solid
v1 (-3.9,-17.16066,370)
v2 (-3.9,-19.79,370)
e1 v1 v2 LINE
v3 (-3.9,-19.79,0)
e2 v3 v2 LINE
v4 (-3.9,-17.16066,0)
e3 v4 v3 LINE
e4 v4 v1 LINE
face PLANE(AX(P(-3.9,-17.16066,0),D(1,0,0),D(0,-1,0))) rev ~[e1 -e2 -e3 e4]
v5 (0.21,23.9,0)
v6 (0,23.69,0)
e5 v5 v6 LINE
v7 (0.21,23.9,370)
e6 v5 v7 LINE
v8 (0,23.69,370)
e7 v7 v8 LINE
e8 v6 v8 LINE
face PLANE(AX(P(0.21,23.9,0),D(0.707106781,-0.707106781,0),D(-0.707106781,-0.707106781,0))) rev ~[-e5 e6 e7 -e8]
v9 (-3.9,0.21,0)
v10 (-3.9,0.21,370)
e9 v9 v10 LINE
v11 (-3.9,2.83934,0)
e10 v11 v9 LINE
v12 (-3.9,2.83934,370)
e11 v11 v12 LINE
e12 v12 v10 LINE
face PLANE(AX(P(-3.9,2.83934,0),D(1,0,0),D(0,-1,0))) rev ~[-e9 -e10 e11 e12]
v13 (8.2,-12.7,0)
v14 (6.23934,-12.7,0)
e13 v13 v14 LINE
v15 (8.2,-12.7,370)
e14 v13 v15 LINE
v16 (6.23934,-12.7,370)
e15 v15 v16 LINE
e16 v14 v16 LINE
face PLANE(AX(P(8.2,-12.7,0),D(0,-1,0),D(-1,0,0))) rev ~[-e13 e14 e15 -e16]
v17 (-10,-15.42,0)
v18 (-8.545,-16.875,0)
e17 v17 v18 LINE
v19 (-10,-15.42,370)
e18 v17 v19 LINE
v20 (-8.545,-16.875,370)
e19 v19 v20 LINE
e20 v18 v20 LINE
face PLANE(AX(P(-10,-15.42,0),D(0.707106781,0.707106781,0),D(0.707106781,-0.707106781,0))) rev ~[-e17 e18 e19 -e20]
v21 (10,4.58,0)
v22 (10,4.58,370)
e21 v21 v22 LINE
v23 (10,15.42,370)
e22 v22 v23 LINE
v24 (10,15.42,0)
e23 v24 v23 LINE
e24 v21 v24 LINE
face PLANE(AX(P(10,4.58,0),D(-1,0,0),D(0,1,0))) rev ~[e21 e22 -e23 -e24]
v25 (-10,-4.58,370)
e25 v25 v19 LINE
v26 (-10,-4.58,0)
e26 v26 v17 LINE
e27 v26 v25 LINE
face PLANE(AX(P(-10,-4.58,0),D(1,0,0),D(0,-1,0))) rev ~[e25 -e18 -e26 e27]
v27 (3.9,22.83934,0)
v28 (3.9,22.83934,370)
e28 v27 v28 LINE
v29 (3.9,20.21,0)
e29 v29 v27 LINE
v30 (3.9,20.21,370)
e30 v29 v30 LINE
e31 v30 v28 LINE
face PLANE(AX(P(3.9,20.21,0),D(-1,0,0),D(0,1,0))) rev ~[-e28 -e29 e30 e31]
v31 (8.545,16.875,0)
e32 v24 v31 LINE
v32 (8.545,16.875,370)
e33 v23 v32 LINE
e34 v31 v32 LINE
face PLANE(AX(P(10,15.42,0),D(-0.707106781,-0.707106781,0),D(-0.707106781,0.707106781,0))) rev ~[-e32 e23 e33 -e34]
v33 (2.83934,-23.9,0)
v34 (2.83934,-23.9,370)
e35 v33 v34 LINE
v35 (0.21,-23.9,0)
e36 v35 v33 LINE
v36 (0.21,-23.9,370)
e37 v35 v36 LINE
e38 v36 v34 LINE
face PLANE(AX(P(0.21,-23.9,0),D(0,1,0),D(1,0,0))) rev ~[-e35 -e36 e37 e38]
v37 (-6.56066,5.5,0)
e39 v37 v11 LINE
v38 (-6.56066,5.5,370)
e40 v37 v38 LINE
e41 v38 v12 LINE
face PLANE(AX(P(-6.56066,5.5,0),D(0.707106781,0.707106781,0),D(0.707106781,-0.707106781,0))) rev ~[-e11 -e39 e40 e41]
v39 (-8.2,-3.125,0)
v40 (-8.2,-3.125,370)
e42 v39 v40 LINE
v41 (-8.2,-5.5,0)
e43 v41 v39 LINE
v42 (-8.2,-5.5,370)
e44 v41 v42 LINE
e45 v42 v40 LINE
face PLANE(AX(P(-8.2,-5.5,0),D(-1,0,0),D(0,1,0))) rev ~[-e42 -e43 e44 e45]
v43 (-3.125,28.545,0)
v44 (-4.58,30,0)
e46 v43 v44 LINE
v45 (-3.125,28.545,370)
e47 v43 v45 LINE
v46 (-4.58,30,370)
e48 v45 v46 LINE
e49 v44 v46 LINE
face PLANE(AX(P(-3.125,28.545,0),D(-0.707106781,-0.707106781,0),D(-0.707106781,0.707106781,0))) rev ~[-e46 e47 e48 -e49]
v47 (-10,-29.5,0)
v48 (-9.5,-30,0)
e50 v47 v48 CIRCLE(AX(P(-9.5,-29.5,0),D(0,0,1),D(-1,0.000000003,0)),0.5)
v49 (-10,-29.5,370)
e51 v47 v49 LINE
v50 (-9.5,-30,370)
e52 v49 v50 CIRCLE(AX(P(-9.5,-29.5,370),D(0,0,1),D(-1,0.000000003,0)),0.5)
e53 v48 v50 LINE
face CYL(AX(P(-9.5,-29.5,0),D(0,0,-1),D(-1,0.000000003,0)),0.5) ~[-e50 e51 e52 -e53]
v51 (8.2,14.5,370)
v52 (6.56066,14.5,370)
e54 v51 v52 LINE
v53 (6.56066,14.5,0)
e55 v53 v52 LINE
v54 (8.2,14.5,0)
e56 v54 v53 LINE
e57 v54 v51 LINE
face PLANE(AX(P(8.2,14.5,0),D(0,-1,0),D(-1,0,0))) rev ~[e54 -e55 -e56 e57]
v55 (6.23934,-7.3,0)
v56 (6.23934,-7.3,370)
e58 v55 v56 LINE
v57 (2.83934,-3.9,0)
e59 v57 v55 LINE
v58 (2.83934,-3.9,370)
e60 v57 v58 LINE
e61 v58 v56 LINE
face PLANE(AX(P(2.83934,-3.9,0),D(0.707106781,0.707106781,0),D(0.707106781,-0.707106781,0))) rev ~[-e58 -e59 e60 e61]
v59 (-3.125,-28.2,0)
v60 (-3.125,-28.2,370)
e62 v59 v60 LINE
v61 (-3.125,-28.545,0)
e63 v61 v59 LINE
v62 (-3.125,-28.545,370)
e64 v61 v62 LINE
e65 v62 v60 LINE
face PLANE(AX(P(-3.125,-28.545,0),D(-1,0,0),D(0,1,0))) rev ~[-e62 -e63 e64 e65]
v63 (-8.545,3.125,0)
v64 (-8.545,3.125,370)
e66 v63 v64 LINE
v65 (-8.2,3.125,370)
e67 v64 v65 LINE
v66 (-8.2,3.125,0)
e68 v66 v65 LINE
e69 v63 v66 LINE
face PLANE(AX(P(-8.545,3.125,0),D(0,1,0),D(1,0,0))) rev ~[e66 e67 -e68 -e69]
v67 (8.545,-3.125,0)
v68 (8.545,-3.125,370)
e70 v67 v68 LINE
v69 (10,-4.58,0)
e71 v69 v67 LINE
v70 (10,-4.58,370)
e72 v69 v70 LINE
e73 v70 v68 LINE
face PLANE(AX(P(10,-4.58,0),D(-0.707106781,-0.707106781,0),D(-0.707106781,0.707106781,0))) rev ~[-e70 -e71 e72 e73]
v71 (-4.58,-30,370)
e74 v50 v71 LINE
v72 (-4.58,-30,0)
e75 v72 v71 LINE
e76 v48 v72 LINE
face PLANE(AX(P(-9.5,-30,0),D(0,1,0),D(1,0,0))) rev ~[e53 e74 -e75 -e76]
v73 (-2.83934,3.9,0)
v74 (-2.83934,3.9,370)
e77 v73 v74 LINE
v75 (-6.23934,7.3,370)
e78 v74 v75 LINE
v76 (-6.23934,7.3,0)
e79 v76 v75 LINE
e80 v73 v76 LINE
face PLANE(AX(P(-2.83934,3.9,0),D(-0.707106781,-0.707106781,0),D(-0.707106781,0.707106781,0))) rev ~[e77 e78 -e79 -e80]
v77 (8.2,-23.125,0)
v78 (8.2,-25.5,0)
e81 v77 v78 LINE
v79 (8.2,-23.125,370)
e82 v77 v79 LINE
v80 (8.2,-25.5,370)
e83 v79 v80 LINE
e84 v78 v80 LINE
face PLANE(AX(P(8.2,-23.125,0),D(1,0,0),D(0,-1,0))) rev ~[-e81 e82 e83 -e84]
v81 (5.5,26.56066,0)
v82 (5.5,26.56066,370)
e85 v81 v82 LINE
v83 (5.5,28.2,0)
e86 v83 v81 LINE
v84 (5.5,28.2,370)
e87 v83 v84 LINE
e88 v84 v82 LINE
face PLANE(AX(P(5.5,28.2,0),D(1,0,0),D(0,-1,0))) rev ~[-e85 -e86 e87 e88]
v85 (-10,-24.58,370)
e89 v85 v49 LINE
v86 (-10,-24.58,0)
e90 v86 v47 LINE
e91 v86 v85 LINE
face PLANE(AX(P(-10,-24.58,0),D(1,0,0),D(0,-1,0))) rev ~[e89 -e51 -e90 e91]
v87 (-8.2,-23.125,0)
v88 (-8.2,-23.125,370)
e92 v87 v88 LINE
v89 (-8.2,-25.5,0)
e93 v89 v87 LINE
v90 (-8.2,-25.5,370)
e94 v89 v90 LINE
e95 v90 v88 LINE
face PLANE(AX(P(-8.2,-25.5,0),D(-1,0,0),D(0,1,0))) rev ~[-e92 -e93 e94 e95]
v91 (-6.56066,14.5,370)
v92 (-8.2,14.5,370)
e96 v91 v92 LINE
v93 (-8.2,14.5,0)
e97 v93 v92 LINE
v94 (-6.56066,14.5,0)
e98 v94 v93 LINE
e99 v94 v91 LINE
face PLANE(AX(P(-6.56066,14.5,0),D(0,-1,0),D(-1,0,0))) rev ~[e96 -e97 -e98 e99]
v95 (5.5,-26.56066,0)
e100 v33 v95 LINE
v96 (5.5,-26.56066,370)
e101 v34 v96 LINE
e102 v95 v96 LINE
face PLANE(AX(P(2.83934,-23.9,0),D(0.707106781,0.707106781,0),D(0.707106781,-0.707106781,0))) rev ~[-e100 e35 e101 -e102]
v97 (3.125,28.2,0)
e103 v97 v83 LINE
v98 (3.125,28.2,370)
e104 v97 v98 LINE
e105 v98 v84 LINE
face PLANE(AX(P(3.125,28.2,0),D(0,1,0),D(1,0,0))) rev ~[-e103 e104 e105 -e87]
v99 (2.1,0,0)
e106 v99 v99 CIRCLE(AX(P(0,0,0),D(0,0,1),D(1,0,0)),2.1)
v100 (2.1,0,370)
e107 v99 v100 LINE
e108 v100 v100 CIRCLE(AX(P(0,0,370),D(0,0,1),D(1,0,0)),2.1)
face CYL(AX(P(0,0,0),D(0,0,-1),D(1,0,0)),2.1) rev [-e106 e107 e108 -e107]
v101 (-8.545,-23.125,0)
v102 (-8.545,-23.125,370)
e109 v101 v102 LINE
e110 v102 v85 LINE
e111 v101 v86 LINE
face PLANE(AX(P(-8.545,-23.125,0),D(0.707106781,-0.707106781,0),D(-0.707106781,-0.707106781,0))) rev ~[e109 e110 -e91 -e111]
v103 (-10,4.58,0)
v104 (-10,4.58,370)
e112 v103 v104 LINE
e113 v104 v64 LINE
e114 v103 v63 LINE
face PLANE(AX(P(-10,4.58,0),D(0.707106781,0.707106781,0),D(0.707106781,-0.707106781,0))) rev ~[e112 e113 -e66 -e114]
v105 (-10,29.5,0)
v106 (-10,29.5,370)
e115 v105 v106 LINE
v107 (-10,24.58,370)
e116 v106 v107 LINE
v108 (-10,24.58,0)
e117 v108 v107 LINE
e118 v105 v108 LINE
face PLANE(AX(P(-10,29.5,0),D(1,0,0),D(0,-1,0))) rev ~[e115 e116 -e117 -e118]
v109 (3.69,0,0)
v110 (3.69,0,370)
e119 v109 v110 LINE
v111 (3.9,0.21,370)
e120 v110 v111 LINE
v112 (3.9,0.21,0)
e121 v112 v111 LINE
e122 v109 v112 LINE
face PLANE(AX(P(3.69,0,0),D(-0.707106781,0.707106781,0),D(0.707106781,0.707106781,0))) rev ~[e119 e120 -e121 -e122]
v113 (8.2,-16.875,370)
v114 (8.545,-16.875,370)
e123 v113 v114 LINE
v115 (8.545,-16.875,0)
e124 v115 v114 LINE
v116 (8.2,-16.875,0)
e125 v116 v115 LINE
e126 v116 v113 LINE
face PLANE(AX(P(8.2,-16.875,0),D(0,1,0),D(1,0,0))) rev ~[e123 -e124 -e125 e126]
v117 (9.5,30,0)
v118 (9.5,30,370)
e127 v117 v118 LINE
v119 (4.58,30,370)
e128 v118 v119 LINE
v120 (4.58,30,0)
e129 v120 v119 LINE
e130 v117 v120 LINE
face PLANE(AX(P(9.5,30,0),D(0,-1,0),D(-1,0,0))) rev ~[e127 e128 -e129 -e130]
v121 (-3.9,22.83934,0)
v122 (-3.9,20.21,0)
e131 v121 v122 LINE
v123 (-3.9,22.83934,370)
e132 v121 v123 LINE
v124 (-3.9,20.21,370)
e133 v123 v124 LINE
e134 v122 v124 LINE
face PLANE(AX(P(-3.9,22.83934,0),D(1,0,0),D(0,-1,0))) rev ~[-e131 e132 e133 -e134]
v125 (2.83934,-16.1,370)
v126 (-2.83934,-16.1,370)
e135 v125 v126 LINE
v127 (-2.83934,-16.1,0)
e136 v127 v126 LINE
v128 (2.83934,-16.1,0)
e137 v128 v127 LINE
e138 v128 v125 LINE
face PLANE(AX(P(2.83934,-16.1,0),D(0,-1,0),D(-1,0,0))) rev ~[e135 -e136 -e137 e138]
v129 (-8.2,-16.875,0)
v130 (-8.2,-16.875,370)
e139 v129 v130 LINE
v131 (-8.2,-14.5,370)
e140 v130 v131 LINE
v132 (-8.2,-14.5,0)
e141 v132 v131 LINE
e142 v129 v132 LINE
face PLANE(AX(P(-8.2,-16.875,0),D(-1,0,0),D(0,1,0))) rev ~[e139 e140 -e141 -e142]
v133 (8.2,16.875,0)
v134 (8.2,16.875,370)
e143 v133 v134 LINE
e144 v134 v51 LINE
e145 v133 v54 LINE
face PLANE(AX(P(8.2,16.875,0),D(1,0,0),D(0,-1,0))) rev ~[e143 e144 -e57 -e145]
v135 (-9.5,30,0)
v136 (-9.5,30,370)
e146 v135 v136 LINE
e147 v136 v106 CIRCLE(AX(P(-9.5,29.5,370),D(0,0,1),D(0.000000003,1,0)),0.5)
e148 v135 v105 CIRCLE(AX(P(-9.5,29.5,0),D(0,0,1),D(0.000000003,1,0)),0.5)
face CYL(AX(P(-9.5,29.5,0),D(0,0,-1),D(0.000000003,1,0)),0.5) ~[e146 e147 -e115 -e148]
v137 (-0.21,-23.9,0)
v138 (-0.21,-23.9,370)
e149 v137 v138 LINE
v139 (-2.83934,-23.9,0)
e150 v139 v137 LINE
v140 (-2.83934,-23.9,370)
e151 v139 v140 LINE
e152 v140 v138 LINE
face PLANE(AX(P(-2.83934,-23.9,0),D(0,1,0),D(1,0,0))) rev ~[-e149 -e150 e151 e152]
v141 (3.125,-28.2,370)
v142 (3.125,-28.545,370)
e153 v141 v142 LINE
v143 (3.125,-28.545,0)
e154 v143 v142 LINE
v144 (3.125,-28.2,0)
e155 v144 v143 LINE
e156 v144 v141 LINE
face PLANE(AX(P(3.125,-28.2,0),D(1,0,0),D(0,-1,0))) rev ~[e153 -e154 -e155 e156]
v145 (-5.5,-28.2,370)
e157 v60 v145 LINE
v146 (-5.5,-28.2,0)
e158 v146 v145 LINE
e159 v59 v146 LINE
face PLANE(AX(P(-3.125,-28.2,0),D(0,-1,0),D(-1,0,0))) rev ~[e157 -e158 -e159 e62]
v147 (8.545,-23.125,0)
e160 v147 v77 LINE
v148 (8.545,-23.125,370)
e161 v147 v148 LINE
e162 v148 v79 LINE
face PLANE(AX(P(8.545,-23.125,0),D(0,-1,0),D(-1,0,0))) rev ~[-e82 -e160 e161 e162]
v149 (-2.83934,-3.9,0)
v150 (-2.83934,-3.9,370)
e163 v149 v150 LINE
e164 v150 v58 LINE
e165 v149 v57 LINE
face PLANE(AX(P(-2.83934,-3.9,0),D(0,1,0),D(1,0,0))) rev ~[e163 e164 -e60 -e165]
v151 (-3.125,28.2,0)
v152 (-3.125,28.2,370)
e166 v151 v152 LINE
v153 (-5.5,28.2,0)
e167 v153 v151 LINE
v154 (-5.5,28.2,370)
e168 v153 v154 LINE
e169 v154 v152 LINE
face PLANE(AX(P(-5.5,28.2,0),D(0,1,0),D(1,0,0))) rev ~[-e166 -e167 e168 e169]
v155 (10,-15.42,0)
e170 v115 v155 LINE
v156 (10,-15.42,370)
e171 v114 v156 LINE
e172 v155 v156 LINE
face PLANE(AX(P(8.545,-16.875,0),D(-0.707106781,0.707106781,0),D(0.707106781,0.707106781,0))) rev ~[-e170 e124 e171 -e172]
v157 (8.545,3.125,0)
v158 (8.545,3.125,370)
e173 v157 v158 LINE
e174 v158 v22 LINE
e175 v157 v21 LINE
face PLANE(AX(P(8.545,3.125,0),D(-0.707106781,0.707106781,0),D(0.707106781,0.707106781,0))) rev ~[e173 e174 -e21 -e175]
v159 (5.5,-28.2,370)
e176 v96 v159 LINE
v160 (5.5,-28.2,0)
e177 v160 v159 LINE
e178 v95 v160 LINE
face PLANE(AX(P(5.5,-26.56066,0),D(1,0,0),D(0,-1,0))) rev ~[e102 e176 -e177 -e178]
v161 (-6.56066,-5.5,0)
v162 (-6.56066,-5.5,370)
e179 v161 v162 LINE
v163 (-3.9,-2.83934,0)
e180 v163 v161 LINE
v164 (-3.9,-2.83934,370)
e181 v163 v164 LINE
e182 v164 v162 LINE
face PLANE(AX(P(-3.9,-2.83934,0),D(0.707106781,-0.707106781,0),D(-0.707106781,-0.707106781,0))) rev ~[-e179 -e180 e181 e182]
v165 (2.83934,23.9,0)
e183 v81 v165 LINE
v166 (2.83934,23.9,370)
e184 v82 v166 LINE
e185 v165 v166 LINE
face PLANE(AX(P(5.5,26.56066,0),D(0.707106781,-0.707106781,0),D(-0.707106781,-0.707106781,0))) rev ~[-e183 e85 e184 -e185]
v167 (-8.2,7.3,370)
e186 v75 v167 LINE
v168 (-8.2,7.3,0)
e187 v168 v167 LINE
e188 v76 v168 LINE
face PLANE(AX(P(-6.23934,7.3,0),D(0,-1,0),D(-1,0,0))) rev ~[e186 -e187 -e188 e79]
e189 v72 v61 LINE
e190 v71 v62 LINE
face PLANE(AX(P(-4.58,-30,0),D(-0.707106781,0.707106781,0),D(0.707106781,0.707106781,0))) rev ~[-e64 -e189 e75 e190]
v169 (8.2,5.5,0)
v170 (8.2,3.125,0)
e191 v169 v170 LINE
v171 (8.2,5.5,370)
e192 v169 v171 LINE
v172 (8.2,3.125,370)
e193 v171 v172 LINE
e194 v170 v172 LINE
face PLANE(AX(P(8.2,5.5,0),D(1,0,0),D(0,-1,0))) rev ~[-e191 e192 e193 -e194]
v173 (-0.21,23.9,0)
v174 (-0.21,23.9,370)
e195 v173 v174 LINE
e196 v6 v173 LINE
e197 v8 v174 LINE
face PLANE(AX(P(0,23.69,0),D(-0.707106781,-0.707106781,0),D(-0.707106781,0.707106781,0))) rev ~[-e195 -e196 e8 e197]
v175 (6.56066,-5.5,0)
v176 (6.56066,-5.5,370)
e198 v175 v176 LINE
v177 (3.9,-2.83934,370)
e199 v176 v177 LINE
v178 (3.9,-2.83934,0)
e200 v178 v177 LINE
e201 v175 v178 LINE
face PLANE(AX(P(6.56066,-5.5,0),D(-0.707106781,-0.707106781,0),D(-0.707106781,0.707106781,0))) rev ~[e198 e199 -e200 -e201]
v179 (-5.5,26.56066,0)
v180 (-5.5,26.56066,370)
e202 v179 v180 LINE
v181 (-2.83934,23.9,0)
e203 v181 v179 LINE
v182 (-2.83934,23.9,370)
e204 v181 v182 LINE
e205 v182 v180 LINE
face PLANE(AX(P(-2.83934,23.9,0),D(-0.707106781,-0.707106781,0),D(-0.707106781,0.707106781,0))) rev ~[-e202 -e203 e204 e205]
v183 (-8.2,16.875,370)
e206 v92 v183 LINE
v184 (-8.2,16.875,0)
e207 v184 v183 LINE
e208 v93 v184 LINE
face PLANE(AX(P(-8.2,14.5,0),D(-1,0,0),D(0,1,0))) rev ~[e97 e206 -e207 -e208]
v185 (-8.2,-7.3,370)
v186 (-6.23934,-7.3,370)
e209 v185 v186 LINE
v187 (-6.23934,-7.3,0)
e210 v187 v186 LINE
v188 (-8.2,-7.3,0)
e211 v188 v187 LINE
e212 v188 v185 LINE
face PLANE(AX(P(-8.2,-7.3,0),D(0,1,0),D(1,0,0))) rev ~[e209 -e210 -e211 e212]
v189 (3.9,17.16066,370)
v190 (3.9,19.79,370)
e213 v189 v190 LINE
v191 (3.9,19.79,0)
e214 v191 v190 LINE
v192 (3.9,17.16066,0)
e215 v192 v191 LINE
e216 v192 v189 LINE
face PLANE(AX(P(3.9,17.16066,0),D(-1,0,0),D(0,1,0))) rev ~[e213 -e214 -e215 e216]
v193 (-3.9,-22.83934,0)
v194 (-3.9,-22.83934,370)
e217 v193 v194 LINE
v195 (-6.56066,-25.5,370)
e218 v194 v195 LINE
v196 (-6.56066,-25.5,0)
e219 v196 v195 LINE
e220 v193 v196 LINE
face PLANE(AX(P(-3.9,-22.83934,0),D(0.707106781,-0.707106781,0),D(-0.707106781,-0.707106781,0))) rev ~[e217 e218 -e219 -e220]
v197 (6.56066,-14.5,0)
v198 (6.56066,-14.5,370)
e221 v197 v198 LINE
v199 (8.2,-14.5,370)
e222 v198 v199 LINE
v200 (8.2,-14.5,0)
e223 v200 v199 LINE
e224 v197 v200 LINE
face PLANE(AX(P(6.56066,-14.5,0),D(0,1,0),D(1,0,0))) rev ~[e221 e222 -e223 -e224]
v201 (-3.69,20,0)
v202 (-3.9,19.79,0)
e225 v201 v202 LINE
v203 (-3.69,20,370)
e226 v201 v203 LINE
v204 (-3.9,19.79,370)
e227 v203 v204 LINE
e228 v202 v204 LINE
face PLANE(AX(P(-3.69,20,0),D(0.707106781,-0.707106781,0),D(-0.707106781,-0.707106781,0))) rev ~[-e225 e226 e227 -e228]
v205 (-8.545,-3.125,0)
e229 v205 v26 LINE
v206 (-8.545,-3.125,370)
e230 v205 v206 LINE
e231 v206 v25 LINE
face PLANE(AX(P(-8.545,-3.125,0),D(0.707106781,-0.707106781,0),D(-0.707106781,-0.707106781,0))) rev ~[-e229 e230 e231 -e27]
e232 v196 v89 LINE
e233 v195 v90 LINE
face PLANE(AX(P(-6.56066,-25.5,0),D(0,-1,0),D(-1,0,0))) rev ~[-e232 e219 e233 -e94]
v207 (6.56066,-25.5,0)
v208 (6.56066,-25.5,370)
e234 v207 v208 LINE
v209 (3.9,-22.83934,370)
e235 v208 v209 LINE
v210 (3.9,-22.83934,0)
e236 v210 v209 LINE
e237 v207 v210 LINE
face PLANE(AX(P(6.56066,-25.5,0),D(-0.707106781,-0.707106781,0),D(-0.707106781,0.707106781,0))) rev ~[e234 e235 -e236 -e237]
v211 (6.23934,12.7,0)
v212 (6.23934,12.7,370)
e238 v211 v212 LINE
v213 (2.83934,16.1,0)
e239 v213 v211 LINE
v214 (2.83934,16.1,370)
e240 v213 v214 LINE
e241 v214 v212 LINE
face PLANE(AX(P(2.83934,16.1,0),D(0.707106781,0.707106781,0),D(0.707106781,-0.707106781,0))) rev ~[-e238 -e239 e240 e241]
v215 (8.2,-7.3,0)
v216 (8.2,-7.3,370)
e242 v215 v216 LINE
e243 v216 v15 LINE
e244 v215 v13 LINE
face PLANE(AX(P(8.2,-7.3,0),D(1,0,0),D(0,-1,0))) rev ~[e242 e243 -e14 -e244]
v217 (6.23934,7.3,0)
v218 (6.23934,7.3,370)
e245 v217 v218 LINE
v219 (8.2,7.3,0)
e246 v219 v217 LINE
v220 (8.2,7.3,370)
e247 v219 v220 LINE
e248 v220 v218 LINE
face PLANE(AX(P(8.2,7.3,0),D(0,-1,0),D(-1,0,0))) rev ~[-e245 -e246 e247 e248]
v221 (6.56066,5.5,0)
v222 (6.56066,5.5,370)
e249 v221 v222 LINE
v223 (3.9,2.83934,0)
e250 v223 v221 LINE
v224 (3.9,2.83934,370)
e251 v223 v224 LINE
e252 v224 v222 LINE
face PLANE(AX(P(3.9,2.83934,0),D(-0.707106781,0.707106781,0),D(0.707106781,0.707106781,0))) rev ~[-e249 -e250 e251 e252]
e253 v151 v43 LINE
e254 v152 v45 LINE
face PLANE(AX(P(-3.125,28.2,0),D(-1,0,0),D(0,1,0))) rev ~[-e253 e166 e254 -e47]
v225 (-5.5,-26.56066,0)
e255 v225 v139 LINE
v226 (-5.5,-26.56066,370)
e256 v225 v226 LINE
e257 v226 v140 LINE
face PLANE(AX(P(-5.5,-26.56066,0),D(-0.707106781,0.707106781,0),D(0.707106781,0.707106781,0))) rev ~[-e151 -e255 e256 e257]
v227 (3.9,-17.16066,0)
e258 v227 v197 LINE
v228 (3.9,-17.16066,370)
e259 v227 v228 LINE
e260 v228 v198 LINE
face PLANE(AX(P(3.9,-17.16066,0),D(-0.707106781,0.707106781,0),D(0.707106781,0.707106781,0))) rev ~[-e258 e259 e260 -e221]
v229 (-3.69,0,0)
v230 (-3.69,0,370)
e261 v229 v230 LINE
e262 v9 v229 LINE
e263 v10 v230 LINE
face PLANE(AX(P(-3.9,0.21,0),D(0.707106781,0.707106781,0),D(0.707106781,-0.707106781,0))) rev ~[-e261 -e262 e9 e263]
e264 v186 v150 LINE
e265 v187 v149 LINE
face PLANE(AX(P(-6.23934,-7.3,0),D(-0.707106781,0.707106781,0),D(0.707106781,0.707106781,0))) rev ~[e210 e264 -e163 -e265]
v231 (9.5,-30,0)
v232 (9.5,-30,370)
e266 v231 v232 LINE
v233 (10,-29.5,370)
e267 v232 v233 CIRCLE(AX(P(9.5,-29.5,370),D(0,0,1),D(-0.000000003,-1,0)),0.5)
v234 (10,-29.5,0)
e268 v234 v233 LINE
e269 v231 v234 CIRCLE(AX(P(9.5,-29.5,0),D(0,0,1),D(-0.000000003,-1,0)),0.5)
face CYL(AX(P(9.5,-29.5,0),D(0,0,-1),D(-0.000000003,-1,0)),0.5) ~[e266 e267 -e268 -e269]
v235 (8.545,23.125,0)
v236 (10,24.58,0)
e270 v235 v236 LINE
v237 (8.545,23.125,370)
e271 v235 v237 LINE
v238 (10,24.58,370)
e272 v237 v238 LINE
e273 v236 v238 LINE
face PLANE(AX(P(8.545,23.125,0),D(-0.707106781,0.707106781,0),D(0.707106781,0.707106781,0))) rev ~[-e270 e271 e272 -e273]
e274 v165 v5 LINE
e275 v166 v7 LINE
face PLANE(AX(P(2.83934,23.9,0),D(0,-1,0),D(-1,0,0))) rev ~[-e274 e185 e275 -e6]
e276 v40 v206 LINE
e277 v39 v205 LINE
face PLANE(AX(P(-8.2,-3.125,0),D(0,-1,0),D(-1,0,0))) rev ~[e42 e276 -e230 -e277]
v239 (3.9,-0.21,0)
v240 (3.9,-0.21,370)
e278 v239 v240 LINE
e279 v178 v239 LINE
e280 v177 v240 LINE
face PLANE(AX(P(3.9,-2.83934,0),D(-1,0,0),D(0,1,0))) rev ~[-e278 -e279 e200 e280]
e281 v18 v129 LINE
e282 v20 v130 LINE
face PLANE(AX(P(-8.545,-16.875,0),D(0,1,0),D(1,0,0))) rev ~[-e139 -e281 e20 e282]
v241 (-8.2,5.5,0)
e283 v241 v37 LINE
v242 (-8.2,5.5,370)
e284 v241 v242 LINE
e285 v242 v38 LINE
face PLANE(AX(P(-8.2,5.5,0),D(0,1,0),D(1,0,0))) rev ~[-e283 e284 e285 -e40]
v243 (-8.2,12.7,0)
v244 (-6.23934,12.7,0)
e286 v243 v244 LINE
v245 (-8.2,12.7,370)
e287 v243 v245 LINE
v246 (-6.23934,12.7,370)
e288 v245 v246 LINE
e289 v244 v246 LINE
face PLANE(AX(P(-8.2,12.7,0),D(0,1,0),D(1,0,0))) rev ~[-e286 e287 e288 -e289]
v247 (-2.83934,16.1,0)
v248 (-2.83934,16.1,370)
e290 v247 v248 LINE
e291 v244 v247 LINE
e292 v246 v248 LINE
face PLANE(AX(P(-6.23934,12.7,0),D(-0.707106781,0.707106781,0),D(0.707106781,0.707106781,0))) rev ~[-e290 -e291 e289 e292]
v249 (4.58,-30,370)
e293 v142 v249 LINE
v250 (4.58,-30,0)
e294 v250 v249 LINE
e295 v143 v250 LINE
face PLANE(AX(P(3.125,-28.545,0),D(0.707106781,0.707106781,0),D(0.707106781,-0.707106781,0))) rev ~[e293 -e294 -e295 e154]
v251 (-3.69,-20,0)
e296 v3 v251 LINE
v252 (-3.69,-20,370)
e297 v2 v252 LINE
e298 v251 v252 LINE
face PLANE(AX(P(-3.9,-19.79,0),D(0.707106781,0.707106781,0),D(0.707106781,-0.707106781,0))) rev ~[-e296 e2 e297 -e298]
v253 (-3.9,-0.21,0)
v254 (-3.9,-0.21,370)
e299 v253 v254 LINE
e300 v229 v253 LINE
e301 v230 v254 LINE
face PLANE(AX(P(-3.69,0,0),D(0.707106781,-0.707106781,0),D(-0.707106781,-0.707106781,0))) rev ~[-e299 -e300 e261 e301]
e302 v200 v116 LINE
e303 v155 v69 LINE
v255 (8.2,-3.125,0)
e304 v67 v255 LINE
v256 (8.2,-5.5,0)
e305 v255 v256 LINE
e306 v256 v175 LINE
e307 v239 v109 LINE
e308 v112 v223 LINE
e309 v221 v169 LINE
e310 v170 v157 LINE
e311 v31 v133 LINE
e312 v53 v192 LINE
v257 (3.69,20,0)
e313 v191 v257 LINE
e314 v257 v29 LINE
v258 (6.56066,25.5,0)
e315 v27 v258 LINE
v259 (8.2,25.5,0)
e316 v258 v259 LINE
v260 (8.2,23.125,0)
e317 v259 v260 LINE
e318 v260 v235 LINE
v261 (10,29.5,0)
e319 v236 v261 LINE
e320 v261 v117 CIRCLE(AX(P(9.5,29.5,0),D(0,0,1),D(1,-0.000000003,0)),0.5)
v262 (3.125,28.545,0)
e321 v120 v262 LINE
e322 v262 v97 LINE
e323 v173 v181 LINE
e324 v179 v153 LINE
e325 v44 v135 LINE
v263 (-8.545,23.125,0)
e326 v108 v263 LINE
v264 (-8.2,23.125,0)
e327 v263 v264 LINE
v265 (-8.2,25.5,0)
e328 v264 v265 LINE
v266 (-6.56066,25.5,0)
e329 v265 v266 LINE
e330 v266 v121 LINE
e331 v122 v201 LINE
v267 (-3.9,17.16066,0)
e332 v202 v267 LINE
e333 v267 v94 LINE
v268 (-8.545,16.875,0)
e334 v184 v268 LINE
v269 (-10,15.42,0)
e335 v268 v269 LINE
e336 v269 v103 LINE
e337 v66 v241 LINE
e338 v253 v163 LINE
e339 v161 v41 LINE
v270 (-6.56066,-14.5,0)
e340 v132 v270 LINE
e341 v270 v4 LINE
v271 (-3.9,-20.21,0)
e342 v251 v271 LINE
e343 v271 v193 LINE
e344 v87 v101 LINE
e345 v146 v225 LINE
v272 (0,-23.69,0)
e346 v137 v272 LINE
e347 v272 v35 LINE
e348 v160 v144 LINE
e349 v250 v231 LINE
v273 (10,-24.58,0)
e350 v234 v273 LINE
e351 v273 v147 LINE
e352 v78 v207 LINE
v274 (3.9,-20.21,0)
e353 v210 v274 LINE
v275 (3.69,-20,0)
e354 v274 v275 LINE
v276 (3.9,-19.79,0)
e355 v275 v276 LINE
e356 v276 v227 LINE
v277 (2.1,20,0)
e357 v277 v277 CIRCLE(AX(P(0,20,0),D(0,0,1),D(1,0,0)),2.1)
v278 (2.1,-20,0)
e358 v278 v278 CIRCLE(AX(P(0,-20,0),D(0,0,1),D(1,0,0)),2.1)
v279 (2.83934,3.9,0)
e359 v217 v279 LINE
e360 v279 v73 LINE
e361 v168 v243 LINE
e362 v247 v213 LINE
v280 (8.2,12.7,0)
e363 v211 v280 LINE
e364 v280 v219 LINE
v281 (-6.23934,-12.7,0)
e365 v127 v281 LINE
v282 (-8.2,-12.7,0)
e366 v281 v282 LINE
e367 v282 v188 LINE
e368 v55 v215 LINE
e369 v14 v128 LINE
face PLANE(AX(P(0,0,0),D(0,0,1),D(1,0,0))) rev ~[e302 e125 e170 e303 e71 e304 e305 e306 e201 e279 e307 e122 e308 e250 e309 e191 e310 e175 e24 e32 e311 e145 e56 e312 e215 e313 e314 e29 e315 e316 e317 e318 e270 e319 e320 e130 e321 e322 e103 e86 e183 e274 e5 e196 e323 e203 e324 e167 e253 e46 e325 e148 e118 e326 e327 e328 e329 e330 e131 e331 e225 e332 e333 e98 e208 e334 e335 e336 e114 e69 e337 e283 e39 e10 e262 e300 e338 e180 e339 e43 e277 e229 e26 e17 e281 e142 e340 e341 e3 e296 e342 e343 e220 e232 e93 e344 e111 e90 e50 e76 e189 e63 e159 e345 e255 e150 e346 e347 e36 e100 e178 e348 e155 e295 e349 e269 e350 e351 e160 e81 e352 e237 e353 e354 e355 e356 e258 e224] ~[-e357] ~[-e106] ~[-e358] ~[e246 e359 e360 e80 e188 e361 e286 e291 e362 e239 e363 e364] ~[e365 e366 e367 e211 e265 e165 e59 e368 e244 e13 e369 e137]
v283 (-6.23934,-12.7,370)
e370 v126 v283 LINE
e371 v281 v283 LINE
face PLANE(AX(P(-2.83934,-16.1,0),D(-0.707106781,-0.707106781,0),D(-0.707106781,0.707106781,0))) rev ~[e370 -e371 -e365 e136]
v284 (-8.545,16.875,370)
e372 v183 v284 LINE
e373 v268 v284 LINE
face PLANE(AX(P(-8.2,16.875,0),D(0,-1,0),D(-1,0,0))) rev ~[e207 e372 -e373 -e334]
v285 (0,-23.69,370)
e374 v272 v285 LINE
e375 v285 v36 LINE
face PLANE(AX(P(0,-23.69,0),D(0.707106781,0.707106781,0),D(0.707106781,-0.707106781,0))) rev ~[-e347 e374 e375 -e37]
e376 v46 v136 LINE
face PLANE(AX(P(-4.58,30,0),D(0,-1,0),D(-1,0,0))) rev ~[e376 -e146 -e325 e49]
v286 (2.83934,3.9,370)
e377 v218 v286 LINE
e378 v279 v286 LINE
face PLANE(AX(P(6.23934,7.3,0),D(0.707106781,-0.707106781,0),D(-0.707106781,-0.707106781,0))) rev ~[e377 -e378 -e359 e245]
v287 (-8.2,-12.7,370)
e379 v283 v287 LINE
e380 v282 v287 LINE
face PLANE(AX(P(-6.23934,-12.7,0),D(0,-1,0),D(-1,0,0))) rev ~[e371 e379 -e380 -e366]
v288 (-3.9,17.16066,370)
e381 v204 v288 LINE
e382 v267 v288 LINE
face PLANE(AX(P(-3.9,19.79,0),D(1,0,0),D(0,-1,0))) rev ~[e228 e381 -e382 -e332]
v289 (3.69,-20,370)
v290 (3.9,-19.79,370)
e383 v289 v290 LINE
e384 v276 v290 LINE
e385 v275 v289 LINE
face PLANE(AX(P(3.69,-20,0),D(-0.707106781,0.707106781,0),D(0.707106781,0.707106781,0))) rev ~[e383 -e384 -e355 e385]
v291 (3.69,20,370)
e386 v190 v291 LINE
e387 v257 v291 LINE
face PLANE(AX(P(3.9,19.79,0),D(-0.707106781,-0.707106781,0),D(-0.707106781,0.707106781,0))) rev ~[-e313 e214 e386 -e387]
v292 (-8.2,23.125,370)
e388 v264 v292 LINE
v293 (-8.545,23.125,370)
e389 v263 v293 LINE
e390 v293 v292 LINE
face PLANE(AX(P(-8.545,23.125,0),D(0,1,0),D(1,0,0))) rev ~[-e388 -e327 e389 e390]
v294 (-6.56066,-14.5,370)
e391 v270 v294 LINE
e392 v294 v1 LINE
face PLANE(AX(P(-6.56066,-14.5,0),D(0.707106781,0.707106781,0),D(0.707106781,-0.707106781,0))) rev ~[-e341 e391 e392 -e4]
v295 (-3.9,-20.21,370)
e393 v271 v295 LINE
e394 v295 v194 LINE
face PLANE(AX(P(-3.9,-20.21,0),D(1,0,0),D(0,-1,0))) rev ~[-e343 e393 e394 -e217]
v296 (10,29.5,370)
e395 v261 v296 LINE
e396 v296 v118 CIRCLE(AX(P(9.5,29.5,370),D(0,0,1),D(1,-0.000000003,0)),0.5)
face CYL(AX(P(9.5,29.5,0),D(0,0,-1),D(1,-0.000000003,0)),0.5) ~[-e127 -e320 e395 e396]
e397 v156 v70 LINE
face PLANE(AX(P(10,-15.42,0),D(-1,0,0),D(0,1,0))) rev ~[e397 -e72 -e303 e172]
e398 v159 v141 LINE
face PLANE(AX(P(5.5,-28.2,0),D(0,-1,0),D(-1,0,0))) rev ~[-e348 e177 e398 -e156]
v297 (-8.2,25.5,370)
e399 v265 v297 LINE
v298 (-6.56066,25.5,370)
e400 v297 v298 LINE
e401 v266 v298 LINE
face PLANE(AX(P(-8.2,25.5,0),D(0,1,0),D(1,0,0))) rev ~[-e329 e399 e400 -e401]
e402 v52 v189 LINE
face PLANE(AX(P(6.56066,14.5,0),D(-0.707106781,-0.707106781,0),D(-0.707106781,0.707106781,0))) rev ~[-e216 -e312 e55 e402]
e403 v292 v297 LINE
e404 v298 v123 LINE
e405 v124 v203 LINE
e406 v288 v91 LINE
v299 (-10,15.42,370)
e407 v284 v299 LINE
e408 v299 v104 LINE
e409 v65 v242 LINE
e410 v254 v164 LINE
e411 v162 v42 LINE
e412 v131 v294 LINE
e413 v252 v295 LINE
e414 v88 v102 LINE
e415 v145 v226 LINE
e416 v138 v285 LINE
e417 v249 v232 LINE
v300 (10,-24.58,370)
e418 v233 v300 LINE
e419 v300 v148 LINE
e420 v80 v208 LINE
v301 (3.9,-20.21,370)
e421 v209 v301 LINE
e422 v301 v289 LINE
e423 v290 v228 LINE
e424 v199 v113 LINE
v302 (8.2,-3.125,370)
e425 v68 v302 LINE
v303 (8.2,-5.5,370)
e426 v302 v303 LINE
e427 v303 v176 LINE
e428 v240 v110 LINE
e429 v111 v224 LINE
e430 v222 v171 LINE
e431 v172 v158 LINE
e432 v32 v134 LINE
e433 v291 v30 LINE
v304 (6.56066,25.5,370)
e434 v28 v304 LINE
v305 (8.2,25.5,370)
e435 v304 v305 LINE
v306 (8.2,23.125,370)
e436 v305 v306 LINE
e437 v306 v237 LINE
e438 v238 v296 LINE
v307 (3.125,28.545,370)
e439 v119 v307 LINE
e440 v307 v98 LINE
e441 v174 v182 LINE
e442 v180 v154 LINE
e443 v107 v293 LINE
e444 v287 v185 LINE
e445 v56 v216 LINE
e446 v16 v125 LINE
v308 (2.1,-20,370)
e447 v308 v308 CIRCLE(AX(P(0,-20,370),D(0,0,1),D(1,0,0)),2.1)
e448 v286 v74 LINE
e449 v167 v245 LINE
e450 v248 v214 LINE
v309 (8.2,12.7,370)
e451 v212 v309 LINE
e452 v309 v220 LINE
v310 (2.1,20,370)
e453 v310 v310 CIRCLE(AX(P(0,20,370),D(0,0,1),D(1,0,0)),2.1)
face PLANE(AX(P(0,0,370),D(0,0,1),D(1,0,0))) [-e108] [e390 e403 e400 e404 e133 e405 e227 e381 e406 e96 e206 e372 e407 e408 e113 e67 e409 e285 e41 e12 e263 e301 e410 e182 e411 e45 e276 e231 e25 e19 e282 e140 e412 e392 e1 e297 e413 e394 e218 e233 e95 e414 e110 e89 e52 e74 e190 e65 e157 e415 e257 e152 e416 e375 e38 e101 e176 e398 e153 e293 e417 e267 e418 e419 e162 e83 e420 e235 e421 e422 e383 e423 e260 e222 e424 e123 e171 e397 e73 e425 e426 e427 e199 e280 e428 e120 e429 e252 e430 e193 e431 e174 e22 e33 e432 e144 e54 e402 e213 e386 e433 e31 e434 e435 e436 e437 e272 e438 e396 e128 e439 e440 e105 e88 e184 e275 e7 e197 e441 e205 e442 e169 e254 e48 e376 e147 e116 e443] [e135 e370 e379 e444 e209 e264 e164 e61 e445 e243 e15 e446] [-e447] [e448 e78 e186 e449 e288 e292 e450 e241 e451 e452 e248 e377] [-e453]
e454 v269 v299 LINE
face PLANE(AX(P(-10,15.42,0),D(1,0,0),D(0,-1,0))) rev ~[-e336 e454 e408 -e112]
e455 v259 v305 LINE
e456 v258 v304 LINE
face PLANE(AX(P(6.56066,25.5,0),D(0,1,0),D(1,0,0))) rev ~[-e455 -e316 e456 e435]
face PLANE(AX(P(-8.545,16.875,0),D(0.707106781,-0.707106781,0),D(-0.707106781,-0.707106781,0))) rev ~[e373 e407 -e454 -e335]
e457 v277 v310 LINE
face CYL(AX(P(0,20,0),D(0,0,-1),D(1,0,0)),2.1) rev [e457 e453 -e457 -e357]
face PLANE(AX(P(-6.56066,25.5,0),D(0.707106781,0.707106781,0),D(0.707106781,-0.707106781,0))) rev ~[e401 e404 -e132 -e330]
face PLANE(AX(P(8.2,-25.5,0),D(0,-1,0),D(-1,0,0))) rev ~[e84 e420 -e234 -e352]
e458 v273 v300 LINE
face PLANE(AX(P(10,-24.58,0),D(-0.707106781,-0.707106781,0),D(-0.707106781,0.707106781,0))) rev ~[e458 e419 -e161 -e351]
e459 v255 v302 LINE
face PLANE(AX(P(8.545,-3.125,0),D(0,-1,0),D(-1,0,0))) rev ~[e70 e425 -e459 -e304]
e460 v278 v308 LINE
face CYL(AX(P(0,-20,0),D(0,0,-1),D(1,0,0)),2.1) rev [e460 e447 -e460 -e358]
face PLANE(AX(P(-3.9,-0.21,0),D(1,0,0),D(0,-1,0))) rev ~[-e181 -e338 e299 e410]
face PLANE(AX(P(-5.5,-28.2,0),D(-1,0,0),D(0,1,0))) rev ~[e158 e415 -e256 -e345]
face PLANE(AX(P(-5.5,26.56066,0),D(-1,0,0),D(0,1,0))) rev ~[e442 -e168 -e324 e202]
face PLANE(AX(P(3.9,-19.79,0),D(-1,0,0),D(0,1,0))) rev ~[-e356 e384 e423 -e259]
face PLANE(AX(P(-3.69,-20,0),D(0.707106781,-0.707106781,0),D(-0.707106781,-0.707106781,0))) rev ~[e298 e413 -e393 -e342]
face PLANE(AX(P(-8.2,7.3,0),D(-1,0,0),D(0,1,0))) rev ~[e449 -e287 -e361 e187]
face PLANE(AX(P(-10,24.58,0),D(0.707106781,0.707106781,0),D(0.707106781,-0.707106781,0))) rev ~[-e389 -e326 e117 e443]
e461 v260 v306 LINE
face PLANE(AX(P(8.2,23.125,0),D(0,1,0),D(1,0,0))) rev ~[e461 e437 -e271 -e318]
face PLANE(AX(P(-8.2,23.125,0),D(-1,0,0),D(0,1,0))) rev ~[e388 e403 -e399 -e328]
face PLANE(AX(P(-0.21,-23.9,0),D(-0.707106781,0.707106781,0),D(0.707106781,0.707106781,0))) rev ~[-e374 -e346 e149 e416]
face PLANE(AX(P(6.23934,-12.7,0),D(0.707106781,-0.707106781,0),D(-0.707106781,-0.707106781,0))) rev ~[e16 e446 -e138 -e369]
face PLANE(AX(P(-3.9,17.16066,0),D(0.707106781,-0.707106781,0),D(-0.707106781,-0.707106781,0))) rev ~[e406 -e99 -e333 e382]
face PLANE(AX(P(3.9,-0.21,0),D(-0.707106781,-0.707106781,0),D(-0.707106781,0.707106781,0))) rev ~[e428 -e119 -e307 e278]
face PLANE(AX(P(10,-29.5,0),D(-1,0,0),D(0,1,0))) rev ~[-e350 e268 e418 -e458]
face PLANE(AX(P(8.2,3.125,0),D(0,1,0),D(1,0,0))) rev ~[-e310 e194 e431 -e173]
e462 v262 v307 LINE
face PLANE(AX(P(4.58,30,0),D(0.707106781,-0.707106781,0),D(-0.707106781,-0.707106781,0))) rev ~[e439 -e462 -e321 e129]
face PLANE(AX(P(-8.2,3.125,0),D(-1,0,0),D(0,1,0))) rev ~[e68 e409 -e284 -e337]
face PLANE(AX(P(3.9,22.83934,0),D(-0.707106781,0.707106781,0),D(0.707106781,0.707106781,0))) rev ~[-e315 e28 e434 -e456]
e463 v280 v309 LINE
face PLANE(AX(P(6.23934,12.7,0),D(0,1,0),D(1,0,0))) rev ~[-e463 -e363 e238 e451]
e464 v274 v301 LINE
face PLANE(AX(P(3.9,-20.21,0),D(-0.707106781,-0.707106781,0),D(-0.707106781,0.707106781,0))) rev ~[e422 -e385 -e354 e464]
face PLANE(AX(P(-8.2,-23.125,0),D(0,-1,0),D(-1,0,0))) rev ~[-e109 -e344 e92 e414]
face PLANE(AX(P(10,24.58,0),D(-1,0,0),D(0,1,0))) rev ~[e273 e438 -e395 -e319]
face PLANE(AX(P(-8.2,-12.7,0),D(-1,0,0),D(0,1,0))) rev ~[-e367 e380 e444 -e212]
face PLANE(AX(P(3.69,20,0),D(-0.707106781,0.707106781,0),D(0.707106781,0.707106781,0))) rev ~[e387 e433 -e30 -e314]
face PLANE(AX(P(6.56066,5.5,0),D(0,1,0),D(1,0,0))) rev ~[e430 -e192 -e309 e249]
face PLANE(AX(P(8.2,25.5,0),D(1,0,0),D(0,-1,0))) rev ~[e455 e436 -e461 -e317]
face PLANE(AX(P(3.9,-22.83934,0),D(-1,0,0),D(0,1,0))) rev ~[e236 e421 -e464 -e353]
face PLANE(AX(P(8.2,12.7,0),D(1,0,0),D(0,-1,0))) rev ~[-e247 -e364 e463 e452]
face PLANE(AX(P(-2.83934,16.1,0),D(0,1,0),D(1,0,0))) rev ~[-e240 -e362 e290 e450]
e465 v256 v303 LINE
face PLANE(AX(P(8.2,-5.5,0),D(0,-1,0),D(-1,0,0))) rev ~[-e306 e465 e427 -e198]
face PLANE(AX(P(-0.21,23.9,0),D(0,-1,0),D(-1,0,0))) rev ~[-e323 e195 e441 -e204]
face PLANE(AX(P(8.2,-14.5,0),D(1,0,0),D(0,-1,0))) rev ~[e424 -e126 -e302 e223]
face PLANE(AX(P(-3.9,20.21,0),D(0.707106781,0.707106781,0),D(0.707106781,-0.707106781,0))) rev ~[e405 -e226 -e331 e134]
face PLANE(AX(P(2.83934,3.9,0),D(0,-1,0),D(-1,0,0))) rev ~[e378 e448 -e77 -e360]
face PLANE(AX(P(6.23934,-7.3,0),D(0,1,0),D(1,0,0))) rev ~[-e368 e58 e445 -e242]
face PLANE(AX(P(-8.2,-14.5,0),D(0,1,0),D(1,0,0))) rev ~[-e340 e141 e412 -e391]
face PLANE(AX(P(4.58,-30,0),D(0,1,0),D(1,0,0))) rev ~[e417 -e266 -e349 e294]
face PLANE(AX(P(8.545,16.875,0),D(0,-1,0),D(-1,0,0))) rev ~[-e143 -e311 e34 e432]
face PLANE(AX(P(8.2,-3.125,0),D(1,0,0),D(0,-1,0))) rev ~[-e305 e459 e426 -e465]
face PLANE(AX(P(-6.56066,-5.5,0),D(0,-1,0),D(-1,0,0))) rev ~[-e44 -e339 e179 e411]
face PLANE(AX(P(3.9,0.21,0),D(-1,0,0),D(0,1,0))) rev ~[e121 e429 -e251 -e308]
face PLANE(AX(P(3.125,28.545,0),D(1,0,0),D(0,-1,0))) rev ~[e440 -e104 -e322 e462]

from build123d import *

# Parameters (mm, degrees)
SKETCH1_R           = 2.1
BOSS_EXTRUDE1_DEPTH = 370


with BuildPart() as part:
    # Sketch1 → Boss-Extrude1 (new body)
    with BuildSketch(Plane.XY):
        with BuildLine():
            Line((4.58, -30), (9.5, -30))
            ThreePointArc((9.5, -30), (9.853553391, -29.853553391), (10, -29.5))
            Line((10, -29.5), (10, -24.58))
            Line((10, -24.58), (8.545, -23.125))
            Line((8.545, -23.125), (8.2, -23.125))
            Line((8.2, -23.125), (8.2, -25.5))
            Line((8.2, -25.5), (6.560660172, -25.5))
            Line((6.560660172, -25.5), (3.9, -22.839339828))
            Line((3.9, -22.839339828), (3.9, -20.21))
            Line((3.9, -20.21), (3.69, -20))
            Line((3.69, -20), (3.9, -19.79))
            Line((3.9, -19.79), (3.9, -17.160660172))
            Line((3.9, -17.160660172), (6.560660172, -14.5))
            Line((6.560660172, -14.5), (8.2, -14.5))
            Line((8.2, -14.5), (8.2, -16.875))
            Line((8.2, -16.875), (8.545, -16.875))
            Line((8.545, -16.875), (10, -15.42))
            Line((10, -15.42), (10, -4.58))
            Line((10, -4.58), (8.545, -3.125))
            Line((8.545, -3.125), (8.2, -3.125))
            Line((8.2, -3.125), (8.2, -5.5))
            Line((8.2, -5.5), (6.560660172, -5.5))
            Line((6.560660172, -5.5), (3.9, -2.839339828))
            Line((3.9, -2.839339828), (3.9, -0.21))
            Line((3.9, -0.21), (3.69, 0))
            Line((3.69, 0), (3.9, 0.21))
            Line((3.9, 0.21), (3.9, 2.839339828))
            Line((3.9, 2.839339828), (6.560660172, 5.5))
            Line((6.560660172, 5.5), (8.2, 5.5))
            Line((8.2, 5.5), (8.2, 3.125))
            Line((8.2, 3.125), (8.545, 3.125))
            Line((8.545, 3.125), (10, 4.58))
            Line((10, 4.58), (10, 15.42))
            Line((10, 15.42), (8.545, 16.875))
            Line((8.545, 16.875), (8.2, 16.875))
            Line((8.2, 16.875), (8.2, 14.5))
            Line((8.2, 14.5), (6.560660172, 14.5))
            Line((6.560660172, 14.5), (3.9, 17.160660172))
            Line((3.9, 17.160660172), (3.9, 19.79))
            Line((3.9, 19.79), (3.69, 20))
            Line((3.69, 20), (3.9, 20.21))
            Line((3.9, 20.21), (3.9, 22.839339828))
            Line((3.9, 22.839339828), (6.560660172, 25.5))
            Line((6.560660172, 25.5), (8.2, 25.5))
            Line((8.2, 25.5), (8.2, 23.125))
            Line((8.2, 23.125), (8.545, 23.125))
            Line((8.545, 23.125), (10, 24.58))
            Line((10, 24.58), (10, 29.5))
            ThreePointArc((10, 29.5), (9.853553391, 29.853553391), (9.5, 30))
            Line((9.5, 30), (4.58, 30))
            Line((4.58, 30), (3.125, 28.545))
            Line((3.125, 28.545), (3.125, 28.2))
            Line((3.125, 28.2), (5.5, 28.2))
            Line((5.5, 28.2), (5.5, 26.560660172))
            Line((5.5, 26.560660172), (2.839339828, 23.9))
            Line((2.839339828, 23.9), (0.21, 23.9))
            Line((0.21, 23.9), (0, 23.69))
            Line((0, 23.69), (-0.21, 23.9))
            Line((-0.21, 23.9), (-2.839339828, 23.9))
            Line((-2.839339828, 23.9), (-5.5, 26.560660172))
            Line((-5.5, 26.560660172), (-5.5, 28.2))
            Line((-5.5, 28.2), (-3.125, 28.2))
            Line((-3.125, 28.2), (-3.125, 28.545))
            Line((-3.125, 28.545), (-4.58, 30))
            Line((-4.58, 30), (-9.5, 30))
            ThreePointArc((-9.5, 30), (-9.853553391, 29.853553391), (-10, 29.5))
            Line((-10, 29.5), (-10, 24.58))
            Line((-10, 24.58), (-8.545, 23.125))
            Line((-8.545, 23.125), (-8.2, 23.125))
            Line((-8.2, 23.125), (-8.2, 25.5))
            Line((-8.2, 25.5), (-6.560660172, 25.5))
            Line((-6.560660172, 25.5), (-3.9, 22.839339828))
            Line((-3.9, 22.839339828), (-3.9, 20.21))
            Line((-3.9, 20.21), (-3.69, 20))
            Line((-3.69, 20), (-3.9, 19.79))
            Line((-3.9, 19.79), (-3.9, 17.160660172))
            Line((-3.9, 17.160660172), (-6.560660172, 14.5))
            Line((-6.560660172, 14.5), (-8.2, 14.5))
            Line((-8.2, 14.5), (-8.2, 16.875))
            Line((-8.2, 16.875), (-8.545, 16.875))
            Line((-8.545, 16.875), (-10, 15.42))
            Line((-10, 15.42), (-10, 4.58))
            Line((-10, 4.58), (-8.545, 3.125))
            Line((-8.545, 3.125), (-8.2, 3.125))
            Line((-8.2, 3.125), (-8.2, 5.5))
            Line((-8.2, 5.5), (-6.560660172, 5.5))
            Line((-6.560660172, 5.5), (-3.9, 2.839339828))
            Line((-3.9, 2.839339828), (-3.9, 0.21))
            Line((-3.9, 0.21), (-3.69, 0))
            Line((-3.69, 0), (-3.9, -0.21))
            Line((-3.9, -0.21), (-3.9, -2.839339828))
            Line((-3.9, -2.839339828), (-6.560660172, -5.5))
            Line((-6.560660172, -5.5), (-8.2, -5.5))
            Line((-8.2, -5.5), (-8.2, -3.125))
            Line((-8.2, -3.125), (-8.545, -3.125))
            Line((-8.545, -3.125), (-10, -4.58))
            Line((-10, -4.58), (-10, -15.42))
            Line((-10, -15.42), (-8.545, -16.875))
            Line((-8.545, -16.875), (-8.2, -16.875))
            Line((-8.2, -16.875), (-8.2, -14.5))
            Line((-8.2, -14.5), (-6.560660172, -14.5))
            Line((-6.560660172, -14.5), (-3.9, -17.160660172))
            Line((-3.9, -17.160660172), (-3.9, -19.79))
            Line((-3.9, -19.79), (-3.69, -20))
            Line((-3.69, -20), (-3.9, -20.21))
            Line((-3.9, -20.21), (-3.9, -22.839339828))
            Line((-3.9, -22.839339828), (-6.560660172, -25.5))
            Line((-6.560660172, -25.5), (-8.2, -25.5))
            Line((-8.2, -25.5), (-8.2, -23.125))
            Line((-8.2, -23.125), (-8.545, -23.125))
            Line((-8.545, -23.125), (-10, -24.58))
            Line((-10, -24.58), (-10, -29.5))
            ThreePointArc((-10, -29.5), (-9.853553391, -29.853553391), (-9.5, -30))
            Line((-9.5, -30), (-4.58, -30))
            Line((-4.58, -30), (-3.125, -28.545))
            Line((-3.125, -28.545), (-3.125, -28.2))
            Line((-3.125, -28.2), (-5.5, -28.2))
            Line((-5.5, -28.2), (-5.5, -26.560660172))
            Line((-5.5, -26.560660172), (-2.839339828, -23.9))
            Line((-2.839339828, -23.9), (-0.21, -23.9))
            Line((-0.21, -23.9), (0, -23.69))
            Line((0, -23.69), (0.21, -23.9))
            Line((0.21, -23.9), (2.839339828, -23.9))
            Line((2.839339828, -23.9), (5.5, -26.560660172))
            Line((5.5, -26.560660172), (5.5, -28.2))
            Line((5.5, -28.2), (3.125, -28.2))
            Line((3.125, -28.2), (3.125, -28.545))
            Line((3.125, -28.545), (4.58, -30))
        make_face()
        with Locations((0, -20)):
            Circle(SKETCH1_R, mode=Mode.SUBTRACT)
        Polygon((-6.239339828, -12.7), (-8.2, -12.7), (-8.2, -7.3), (-6.239339828, -7.3), (-2.839339828, -3.9), (2.839339828, -3.9), (6.239339828, -7.3), (8.2, -7.3), (8.2, -12.7), (6.239339828, -12.7), (2.839339828, -16.1), (-2.839339828, -16.1), align=None, mode=Mode.SUBTRACT)
        Polygon((-6.239339828, 7.3), (-8.2, 7.3), (-8.2, 12.7), (-6.239339828, 12.7), (-2.839339828, 16.1), (2.839339828, 16.1), (6.239339828, 12.7), (8.2, 12.7), (8.2, 7.3), (6.239339828, 7.3), (2.839339828, 3.9), (-2.839339828, 3.9), align=None, mode=Mode.SUBTRACT)
        with Locations((0, 20)):
            Circle(SKETCH1_R, mode=Mode.SUBTRACT)
        Circle(SKETCH1_R, mode=Mode.SUBTRACT)
    extrude(amount=BOSS_EXTRUDE1_DEPTH)


solid = part.part
